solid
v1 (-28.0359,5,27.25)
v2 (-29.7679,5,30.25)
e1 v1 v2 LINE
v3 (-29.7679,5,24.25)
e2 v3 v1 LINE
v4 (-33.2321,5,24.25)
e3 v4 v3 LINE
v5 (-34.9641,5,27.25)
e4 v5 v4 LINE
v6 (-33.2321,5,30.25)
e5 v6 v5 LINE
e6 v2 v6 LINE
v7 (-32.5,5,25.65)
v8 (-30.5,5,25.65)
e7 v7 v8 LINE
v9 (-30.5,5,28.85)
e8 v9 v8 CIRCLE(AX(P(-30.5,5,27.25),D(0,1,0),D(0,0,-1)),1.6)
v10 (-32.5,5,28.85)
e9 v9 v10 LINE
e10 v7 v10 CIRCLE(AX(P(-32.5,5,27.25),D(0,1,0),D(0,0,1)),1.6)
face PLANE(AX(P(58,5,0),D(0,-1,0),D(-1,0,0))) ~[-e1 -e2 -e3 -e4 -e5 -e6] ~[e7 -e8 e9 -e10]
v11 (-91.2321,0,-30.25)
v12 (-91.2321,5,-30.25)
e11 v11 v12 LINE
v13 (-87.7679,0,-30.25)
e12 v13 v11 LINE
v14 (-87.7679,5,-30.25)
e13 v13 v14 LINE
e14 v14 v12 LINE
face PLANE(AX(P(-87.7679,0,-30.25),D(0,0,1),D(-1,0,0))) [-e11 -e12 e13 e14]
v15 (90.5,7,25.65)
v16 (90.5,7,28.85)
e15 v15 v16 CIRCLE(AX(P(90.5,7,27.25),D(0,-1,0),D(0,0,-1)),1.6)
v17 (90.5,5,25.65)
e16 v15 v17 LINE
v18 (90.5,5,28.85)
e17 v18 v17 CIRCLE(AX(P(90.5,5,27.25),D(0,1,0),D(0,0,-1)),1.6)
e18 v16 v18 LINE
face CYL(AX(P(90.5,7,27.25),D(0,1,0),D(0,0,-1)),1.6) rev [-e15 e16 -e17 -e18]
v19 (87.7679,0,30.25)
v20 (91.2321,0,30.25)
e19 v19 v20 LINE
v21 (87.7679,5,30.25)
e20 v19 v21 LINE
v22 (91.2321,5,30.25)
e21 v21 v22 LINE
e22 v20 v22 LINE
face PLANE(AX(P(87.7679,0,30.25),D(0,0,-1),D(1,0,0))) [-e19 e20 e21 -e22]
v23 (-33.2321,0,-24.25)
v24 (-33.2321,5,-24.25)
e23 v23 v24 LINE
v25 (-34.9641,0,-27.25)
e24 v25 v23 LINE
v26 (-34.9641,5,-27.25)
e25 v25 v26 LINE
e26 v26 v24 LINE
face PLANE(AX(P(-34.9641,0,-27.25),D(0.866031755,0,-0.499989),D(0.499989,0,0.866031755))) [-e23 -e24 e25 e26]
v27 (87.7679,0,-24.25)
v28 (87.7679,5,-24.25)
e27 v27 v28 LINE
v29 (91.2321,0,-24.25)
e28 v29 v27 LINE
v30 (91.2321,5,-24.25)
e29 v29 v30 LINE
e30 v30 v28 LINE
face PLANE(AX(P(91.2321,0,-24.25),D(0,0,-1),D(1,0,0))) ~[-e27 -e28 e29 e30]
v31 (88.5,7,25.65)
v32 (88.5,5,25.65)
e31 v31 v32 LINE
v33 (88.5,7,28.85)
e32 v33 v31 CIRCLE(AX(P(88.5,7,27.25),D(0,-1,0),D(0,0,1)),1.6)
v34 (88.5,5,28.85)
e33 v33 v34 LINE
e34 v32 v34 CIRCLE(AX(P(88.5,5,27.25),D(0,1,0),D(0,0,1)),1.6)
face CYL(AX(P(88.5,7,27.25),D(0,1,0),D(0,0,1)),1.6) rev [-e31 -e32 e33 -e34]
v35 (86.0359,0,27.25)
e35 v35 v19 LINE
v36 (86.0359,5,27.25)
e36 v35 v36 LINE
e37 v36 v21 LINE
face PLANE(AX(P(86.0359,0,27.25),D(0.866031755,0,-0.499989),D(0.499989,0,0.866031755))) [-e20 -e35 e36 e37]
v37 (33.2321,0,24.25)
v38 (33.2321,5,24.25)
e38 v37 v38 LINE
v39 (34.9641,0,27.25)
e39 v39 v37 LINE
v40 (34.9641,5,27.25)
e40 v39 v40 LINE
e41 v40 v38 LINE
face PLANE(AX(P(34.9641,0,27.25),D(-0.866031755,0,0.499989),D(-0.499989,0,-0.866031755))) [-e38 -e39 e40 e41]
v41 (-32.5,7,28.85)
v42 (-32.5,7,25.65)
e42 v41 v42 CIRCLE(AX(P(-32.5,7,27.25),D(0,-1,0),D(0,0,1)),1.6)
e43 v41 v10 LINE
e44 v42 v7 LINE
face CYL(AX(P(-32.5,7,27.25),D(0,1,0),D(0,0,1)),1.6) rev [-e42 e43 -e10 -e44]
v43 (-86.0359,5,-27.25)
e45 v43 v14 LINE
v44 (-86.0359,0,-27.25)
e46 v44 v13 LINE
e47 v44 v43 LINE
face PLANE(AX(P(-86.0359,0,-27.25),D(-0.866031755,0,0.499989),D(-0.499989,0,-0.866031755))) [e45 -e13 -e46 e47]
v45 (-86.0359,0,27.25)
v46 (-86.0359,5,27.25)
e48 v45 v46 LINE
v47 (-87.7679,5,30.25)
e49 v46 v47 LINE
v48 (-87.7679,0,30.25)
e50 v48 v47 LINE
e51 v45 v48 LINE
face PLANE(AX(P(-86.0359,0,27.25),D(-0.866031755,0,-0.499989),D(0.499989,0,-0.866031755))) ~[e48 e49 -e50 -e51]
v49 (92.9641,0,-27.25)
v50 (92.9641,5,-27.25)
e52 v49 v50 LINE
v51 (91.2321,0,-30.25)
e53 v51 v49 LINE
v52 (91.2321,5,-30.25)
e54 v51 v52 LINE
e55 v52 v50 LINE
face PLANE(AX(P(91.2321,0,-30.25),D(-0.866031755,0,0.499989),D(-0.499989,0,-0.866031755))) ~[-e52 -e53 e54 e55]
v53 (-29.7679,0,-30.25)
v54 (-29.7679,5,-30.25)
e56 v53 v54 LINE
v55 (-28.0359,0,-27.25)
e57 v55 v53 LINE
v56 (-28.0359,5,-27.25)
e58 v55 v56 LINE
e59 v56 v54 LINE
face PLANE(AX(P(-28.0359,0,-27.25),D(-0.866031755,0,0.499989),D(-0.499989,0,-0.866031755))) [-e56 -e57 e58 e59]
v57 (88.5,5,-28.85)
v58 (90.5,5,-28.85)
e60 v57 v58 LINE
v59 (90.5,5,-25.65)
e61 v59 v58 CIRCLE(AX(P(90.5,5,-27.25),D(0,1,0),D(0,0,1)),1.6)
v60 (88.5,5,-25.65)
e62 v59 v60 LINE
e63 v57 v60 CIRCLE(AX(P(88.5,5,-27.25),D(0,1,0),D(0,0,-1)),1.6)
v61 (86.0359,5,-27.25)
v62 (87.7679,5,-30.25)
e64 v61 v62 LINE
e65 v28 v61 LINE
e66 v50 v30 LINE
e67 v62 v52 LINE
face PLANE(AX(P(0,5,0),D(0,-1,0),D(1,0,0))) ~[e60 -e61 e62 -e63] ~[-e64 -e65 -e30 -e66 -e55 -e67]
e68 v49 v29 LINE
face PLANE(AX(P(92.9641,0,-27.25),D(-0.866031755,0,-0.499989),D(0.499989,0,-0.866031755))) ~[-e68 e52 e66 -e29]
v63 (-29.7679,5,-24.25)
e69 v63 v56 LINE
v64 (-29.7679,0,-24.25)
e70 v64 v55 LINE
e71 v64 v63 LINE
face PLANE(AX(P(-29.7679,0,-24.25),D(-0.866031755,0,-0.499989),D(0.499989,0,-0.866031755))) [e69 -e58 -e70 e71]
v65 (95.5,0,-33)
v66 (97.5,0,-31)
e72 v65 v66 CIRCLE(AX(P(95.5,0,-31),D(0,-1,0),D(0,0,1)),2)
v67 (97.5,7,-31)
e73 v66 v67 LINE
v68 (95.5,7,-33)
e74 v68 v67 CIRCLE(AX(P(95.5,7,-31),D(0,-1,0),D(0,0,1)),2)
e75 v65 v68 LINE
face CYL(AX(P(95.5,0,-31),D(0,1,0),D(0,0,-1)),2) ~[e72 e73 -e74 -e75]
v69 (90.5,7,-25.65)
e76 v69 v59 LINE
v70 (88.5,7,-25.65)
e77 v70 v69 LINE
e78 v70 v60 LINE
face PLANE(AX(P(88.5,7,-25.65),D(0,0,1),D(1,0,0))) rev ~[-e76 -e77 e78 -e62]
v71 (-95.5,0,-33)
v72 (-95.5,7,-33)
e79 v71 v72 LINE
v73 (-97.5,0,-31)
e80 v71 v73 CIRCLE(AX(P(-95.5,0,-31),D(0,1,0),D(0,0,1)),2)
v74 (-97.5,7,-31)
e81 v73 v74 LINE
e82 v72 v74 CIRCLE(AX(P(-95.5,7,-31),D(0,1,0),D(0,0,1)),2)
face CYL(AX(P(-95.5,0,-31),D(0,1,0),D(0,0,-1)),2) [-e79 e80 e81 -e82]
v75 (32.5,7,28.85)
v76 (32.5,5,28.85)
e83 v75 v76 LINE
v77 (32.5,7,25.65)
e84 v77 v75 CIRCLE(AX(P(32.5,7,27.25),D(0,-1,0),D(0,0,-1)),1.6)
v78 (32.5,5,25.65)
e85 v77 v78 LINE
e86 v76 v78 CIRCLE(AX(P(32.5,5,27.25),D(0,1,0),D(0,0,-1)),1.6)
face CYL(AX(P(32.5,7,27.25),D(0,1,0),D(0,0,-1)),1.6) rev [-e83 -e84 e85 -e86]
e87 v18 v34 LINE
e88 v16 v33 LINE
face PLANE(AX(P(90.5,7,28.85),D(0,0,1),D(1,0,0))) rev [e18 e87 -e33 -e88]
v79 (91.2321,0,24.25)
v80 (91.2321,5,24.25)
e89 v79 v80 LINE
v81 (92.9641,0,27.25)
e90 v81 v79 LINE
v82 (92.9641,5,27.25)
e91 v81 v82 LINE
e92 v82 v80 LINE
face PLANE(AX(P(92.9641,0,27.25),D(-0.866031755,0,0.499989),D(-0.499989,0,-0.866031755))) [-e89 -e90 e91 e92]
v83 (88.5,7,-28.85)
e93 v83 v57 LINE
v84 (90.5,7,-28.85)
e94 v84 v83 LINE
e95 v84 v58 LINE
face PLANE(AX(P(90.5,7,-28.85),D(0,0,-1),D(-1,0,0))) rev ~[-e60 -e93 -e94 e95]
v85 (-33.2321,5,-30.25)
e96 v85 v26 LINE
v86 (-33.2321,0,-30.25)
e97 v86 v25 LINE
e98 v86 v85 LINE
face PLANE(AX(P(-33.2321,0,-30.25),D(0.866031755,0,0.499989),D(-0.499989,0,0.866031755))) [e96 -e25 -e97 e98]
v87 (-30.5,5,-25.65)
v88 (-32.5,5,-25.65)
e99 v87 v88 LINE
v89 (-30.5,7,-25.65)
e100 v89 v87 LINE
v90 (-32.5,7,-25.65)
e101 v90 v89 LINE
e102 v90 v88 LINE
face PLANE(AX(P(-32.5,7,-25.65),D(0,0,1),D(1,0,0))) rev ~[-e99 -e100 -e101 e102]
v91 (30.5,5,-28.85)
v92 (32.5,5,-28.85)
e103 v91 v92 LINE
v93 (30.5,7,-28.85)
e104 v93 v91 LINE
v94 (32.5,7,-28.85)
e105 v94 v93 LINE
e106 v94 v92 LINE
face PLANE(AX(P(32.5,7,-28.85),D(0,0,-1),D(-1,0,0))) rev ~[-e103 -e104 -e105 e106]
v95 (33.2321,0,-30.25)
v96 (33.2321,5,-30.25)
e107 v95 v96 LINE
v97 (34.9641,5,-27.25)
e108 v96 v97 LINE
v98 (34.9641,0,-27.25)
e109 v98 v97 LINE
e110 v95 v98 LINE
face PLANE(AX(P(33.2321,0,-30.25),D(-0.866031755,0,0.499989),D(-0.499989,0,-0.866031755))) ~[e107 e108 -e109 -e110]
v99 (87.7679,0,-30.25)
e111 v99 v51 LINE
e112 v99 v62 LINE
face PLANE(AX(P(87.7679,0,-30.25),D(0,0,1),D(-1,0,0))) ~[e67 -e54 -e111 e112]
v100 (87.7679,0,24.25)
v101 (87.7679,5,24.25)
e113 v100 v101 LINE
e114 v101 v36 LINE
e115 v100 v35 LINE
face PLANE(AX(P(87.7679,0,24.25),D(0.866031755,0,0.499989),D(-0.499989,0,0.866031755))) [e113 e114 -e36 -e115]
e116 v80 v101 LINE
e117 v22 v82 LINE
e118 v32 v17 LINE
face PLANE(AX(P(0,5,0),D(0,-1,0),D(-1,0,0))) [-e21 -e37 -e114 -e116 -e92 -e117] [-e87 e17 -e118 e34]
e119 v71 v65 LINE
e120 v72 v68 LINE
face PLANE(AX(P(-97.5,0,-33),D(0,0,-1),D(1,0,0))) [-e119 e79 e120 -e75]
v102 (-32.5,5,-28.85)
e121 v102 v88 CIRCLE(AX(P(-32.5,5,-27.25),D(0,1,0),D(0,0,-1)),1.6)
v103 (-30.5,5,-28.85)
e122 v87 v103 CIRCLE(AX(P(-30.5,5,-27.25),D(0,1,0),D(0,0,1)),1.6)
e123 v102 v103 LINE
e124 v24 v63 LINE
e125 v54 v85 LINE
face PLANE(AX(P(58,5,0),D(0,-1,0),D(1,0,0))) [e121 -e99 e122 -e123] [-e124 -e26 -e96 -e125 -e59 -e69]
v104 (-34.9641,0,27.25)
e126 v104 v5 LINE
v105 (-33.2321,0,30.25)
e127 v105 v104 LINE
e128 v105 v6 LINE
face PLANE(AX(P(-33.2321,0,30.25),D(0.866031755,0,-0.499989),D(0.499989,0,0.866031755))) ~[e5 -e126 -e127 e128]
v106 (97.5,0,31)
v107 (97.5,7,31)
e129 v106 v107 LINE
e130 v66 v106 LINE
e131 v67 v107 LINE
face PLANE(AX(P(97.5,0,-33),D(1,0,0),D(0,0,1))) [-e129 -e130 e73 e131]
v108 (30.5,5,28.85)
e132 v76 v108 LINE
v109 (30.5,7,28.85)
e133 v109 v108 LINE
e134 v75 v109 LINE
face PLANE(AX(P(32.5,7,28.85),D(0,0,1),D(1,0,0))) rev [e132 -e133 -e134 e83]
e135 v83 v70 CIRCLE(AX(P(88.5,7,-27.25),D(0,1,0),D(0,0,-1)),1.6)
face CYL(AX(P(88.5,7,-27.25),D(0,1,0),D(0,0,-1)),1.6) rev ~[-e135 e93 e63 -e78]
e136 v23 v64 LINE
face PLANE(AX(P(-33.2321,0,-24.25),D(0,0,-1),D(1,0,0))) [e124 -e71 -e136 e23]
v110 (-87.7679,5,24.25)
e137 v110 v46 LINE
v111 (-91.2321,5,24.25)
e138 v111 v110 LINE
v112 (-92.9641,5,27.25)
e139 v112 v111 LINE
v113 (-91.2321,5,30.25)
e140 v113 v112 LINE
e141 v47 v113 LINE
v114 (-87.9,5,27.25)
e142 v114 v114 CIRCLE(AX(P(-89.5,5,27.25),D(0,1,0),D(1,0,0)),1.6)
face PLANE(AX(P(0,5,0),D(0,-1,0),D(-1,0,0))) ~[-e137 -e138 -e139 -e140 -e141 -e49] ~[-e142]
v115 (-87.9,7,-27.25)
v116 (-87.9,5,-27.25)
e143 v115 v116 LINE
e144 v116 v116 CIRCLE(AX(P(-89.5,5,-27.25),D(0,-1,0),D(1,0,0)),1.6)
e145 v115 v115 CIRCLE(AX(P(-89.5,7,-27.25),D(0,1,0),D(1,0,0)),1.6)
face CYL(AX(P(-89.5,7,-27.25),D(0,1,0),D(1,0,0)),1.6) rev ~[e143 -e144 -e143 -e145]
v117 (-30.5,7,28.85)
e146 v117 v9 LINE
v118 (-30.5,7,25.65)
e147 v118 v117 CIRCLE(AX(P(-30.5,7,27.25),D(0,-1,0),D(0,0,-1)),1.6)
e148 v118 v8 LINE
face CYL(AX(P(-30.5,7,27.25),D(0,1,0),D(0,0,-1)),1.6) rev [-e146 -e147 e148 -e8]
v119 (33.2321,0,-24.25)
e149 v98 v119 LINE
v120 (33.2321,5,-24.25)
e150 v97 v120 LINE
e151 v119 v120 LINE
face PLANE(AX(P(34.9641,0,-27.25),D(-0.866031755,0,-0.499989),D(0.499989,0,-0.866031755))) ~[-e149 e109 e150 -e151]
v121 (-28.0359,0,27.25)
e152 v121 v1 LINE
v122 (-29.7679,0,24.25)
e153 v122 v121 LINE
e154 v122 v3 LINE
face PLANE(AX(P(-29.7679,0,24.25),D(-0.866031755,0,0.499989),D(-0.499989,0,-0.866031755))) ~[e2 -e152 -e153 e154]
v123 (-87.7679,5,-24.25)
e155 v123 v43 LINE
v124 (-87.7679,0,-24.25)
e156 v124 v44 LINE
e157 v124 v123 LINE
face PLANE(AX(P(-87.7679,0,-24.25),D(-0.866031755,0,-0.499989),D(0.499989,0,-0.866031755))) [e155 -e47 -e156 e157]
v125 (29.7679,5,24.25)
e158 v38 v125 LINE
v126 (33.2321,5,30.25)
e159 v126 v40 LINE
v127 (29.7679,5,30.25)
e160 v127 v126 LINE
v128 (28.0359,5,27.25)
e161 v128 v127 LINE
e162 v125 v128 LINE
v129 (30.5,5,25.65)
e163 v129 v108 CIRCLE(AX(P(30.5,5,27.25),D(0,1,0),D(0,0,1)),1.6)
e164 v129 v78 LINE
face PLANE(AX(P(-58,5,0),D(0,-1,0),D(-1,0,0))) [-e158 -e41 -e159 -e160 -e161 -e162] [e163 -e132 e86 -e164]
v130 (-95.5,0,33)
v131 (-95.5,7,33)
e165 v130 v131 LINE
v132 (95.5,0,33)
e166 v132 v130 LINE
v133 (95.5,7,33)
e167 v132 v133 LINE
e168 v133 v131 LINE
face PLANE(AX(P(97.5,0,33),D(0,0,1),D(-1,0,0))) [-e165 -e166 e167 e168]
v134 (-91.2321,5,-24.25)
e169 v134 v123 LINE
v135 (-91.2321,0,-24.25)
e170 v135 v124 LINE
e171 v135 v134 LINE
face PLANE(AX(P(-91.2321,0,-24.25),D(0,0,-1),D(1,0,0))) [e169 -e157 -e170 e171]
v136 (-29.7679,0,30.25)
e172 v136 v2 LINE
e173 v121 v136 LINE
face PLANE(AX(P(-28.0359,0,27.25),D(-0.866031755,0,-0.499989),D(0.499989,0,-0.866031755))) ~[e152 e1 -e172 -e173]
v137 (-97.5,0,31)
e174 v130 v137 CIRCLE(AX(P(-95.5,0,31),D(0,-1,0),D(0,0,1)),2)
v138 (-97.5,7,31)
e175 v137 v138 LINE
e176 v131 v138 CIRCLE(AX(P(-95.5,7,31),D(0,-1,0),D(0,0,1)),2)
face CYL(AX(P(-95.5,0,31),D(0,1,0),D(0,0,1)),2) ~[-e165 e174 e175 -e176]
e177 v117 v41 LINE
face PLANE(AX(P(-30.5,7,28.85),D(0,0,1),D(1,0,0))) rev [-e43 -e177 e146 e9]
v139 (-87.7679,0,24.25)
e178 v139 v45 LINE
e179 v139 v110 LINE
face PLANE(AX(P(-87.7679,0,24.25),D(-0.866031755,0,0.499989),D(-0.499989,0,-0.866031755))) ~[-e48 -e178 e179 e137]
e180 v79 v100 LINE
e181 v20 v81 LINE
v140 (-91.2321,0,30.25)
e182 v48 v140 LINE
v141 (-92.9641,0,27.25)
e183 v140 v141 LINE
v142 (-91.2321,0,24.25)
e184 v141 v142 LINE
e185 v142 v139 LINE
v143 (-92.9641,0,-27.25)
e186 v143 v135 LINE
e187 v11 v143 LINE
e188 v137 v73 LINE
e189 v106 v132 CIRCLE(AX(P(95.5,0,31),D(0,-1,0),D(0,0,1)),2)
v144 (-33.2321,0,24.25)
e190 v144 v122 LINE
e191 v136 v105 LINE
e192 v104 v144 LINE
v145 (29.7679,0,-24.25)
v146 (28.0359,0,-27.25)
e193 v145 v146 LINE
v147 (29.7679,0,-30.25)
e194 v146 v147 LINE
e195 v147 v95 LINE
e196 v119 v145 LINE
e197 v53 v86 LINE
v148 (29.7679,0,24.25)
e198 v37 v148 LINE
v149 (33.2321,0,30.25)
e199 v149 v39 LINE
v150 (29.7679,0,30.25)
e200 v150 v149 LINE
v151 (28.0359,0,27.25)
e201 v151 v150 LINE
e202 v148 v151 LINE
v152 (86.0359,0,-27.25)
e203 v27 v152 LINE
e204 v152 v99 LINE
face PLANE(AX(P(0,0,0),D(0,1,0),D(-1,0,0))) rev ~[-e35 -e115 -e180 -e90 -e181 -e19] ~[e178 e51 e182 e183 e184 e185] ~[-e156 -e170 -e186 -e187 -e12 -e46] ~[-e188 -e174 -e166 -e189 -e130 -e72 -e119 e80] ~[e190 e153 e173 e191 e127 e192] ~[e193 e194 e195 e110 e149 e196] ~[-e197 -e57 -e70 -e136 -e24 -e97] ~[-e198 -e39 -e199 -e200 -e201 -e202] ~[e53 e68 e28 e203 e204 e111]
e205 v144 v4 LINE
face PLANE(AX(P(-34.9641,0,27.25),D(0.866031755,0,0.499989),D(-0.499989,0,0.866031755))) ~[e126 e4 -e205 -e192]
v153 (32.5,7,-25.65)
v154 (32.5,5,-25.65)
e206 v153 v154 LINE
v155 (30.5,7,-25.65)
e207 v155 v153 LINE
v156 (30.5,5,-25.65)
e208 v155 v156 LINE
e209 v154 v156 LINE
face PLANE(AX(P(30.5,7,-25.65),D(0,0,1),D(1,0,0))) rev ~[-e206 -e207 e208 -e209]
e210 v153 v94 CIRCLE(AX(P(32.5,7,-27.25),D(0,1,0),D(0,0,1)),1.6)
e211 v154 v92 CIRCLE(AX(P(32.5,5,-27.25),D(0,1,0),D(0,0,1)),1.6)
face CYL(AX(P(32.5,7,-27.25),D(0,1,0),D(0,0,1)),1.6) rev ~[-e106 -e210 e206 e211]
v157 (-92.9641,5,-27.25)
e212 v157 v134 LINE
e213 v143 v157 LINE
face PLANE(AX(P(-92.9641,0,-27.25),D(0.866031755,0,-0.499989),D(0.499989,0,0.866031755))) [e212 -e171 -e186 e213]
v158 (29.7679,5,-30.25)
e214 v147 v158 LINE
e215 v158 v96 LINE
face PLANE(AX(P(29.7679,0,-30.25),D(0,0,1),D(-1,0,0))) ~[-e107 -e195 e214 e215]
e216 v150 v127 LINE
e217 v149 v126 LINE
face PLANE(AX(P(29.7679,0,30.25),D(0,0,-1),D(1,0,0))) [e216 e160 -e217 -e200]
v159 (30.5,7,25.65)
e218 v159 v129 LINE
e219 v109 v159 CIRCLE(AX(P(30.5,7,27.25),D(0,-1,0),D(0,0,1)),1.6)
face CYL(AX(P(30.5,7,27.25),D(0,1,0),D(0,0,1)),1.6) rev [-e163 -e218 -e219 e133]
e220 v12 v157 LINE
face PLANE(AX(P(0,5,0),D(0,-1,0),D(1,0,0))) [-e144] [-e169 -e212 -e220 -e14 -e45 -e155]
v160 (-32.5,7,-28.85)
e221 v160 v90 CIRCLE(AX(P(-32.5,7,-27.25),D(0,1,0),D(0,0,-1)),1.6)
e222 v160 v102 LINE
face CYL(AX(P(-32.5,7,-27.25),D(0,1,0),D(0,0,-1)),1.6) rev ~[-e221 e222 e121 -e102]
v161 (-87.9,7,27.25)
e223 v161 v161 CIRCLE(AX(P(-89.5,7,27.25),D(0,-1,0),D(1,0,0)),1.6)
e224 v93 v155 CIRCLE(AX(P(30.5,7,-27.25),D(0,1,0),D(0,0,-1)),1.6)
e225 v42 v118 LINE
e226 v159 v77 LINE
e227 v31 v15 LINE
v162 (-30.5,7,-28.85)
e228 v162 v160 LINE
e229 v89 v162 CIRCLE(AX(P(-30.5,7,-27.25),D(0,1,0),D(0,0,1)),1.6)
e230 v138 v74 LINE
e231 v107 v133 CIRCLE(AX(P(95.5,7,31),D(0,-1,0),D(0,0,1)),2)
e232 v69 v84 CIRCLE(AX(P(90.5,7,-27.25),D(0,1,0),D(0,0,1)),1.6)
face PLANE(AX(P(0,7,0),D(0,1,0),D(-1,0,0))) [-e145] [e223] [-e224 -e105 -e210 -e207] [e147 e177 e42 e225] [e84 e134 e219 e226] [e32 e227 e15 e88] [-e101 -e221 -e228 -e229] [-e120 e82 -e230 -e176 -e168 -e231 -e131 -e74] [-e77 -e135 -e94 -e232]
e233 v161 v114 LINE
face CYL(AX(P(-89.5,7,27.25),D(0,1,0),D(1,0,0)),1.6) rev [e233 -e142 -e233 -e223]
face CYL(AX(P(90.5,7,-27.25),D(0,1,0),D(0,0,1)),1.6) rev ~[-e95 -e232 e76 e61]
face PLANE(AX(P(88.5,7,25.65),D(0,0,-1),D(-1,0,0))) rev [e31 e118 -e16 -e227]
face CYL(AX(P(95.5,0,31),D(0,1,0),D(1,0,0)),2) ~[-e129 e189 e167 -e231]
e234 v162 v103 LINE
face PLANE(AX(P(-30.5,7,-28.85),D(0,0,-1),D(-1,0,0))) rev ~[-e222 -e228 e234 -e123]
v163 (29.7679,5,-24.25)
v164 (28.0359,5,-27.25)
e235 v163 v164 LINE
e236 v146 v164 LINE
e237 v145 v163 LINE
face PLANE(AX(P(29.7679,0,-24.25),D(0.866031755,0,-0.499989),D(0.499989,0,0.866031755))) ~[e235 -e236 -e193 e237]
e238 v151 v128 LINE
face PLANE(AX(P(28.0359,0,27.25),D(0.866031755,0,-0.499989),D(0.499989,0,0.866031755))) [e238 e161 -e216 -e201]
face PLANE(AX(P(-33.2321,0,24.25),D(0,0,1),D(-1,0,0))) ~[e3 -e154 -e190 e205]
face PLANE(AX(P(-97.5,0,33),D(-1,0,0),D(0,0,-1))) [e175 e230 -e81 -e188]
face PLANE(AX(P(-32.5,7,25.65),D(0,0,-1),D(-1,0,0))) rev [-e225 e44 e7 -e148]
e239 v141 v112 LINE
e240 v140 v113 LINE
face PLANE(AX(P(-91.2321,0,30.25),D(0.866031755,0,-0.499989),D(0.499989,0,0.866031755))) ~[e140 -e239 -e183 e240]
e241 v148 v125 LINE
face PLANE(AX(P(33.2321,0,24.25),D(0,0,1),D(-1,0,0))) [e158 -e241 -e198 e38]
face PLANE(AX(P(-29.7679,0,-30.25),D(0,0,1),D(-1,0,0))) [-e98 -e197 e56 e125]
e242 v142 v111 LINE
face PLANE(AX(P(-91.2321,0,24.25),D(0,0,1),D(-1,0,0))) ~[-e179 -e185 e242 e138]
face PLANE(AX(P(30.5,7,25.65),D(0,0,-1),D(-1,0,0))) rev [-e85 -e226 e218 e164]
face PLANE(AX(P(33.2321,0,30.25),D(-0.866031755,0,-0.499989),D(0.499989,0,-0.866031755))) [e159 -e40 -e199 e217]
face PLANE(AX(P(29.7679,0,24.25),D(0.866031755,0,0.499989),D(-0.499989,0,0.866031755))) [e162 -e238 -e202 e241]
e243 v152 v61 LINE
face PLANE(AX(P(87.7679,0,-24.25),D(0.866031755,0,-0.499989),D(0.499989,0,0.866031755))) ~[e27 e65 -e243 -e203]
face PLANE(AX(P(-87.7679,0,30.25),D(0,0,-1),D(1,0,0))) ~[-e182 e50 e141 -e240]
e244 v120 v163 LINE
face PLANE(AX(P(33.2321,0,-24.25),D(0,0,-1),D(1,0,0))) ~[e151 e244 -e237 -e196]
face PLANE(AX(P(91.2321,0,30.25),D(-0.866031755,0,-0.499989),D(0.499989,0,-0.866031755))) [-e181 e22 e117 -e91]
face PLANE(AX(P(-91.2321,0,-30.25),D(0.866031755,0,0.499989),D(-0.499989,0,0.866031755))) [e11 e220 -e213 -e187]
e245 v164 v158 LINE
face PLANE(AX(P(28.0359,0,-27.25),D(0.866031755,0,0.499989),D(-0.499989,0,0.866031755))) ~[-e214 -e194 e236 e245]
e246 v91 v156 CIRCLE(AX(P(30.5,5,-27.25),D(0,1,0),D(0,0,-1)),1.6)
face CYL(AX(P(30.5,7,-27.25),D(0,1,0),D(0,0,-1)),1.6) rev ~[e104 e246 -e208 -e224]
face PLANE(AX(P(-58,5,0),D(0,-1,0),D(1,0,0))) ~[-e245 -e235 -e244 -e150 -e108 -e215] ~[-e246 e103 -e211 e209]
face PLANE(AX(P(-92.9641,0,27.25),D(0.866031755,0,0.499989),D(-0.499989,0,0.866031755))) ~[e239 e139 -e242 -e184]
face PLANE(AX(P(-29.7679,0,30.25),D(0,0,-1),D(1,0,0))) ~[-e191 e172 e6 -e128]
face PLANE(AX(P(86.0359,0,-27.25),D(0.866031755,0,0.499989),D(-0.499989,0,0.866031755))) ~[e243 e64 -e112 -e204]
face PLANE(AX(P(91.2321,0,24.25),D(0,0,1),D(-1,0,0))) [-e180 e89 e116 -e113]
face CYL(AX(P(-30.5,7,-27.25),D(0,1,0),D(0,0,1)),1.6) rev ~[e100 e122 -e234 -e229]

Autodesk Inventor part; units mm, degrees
ref_plane "YZ Plane" through (0, 0, 0) normal (1, 0, 0) x (0, 1, 0)
ref_plane "XZ Plane" through (0, 0, 0) normal (0, 1, 0) x (-1, 0, 0)
ref_plane "XY Plane" through (0, 0, 0) normal (0, 0, 1) x (1, 0, 0)
sketch "Sketch1" plane through (0, 0, 0) normal (0, 1, 0) x (-1, 0, 0)
  line L0 (97.5, -33) -> (-97.5, -33)
  line L1 (-97.5, -33) -> (-97.5, 33)
  line L2 (-97.5, 33) -> (97.5, 33)
  line L3 (97.5, 33) -> (97.5, -33)
  line L4 (97.5, -33) -> (-97.5, 33) construction
  line L5 (-97.5, -33) -> (97.5, 33) construction
  point P0 (0, 0)
  dimension "d0" = 195
  dimension "d1" = 66
extrude "Extrusion1" add sketch "Sketch1" along normal blind 7
fillet "Fillet1" radius 2 4 edges at (-97.5, 3.5, 33) (97.5, 3.5, 33) (97.5, 3.5, -33) (-97.5, 3.5, -33)
sketch "Sketch2" plane through (0, 7, 0) normal (0, 1, 0) x (1, 0, 0)
  line L0 (-32.5, 27.25) -> (-30.5, 27.25) construction
  line L1 (-32.5, 25.65) -> (-30.5, 25.65)
  line L2 (-30.5, 28.85) -> (-32.5, 28.85)
  arc A0 (-32.5, 28.85) -> (-32.5, 25.65) centre (-32.5, 27.25) ccw
  arc A1 (-30.5, 25.65) -> (-30.5, 28.85) centre (-30.5, 27.25) ccw
  circle A2 centre (-89.5, 27.25) radius 1.6
  line L3 (30.5, 27.25) -> (32.5, 27.25) construction
  line L4 (30.5, 25.65) -> (32.5, 25.65)
  line L5 (32.5, 28.85) -> (30.5, 28.85)
  arc A3 (30.5, 28.85) -> (30.5, 25.65) centre (30.5, 27.25) ccw
  arc A4 (32.5, 25.65) -> (32.5, 28.85) centre (32.5, 27.25) ccw
  line L6 (88.5, 27.25) -> (90.5, 27.25) construction
  line L7 (88.5, 25.65) -> (90.5, 25.65)
  line L8 (90.5, 28.85) -> (88.5, 28.85)
  arc A5 (88.5, 28.85) -> (88.5, 25.65) centre (88.5, 27.25) ccw
  arc A6 (90.5, 25.65) -> (90.5, 28.85) centre (90.5, 27.25) ccw
  line L9 (95.5, 33) -> (-95.5, 33) projected
  line L10 (-97.5, 31) -> (-97.5, -31) projected
  line L11 (97.5, -31) -> (97.5, 31) projected
  point P0 (0, 0)
  point P1 (-31.5, 27.25)
  point P2 (31.5, 27.25)
  point P3 (89.5, 27.25)
  dimension "d9" = 1
  dimension "d10" = 3.2
  dimension "d11" = 3.2
  dimension "d12" = 1
  dimension "d13" = 3.2
  dimension "d14" = 1
  dimension "d15" = 3.2
  dimension "d16" = 58
  dimension "d17" = 63
  dimension "d18" = 58
  dimension "d19" = 5.75
  dimension "d21" = 8
extrude "Extrusion2" cut sketch "Sketch2" against normal through all
mirror "Mirror1" about plane through (0, 0, 0) normal (0, 0, 1) of "Extrusion2"
sketch "Sketch3" plane through (0, 0, 0) normal (0, -1, 0) x (1, 0, 0)
  circle A0 centre (-89.5, -27.25) radius 1.6 projected
  line L0 (-87.7679, -24.25) -> (-86.0359, -27.25)
  line L1 (-86.0359, -27.25) -> (-87.7679, -30.25)
  line L2 (-87.7679, -30.25) -> (-91.2321, -30.25)
  line L3 (-91.2321, -30.25) -> (-92.9641, -27.25)
  line L4 (-92.9641, -27.25) -> (-91.2321, -24.25)
  line L5 (-91.2321, -24.25) -> (-87.7679, -24.25)
  point P0 (0, 0)
  dimension "d24" = 3
extrude "Extrusion3" cut sketch "Sketch3" against normal blind 5
pattern_linear "Rectangular Pattern1" count 2 spacing 58 along (1, 0, 0) of "Extrusion3"
mirror "Mirror2" about plane through (0, 0, 0) normal (0, 0, 1) of "Extrusion3", "Rectangular Pattern1"
mirror "Mirror3" about plane through (0, 0, 0) normal (1, 0, 0) of "Extrusion3", "Rectangular Pattern1", "Mirror2"
